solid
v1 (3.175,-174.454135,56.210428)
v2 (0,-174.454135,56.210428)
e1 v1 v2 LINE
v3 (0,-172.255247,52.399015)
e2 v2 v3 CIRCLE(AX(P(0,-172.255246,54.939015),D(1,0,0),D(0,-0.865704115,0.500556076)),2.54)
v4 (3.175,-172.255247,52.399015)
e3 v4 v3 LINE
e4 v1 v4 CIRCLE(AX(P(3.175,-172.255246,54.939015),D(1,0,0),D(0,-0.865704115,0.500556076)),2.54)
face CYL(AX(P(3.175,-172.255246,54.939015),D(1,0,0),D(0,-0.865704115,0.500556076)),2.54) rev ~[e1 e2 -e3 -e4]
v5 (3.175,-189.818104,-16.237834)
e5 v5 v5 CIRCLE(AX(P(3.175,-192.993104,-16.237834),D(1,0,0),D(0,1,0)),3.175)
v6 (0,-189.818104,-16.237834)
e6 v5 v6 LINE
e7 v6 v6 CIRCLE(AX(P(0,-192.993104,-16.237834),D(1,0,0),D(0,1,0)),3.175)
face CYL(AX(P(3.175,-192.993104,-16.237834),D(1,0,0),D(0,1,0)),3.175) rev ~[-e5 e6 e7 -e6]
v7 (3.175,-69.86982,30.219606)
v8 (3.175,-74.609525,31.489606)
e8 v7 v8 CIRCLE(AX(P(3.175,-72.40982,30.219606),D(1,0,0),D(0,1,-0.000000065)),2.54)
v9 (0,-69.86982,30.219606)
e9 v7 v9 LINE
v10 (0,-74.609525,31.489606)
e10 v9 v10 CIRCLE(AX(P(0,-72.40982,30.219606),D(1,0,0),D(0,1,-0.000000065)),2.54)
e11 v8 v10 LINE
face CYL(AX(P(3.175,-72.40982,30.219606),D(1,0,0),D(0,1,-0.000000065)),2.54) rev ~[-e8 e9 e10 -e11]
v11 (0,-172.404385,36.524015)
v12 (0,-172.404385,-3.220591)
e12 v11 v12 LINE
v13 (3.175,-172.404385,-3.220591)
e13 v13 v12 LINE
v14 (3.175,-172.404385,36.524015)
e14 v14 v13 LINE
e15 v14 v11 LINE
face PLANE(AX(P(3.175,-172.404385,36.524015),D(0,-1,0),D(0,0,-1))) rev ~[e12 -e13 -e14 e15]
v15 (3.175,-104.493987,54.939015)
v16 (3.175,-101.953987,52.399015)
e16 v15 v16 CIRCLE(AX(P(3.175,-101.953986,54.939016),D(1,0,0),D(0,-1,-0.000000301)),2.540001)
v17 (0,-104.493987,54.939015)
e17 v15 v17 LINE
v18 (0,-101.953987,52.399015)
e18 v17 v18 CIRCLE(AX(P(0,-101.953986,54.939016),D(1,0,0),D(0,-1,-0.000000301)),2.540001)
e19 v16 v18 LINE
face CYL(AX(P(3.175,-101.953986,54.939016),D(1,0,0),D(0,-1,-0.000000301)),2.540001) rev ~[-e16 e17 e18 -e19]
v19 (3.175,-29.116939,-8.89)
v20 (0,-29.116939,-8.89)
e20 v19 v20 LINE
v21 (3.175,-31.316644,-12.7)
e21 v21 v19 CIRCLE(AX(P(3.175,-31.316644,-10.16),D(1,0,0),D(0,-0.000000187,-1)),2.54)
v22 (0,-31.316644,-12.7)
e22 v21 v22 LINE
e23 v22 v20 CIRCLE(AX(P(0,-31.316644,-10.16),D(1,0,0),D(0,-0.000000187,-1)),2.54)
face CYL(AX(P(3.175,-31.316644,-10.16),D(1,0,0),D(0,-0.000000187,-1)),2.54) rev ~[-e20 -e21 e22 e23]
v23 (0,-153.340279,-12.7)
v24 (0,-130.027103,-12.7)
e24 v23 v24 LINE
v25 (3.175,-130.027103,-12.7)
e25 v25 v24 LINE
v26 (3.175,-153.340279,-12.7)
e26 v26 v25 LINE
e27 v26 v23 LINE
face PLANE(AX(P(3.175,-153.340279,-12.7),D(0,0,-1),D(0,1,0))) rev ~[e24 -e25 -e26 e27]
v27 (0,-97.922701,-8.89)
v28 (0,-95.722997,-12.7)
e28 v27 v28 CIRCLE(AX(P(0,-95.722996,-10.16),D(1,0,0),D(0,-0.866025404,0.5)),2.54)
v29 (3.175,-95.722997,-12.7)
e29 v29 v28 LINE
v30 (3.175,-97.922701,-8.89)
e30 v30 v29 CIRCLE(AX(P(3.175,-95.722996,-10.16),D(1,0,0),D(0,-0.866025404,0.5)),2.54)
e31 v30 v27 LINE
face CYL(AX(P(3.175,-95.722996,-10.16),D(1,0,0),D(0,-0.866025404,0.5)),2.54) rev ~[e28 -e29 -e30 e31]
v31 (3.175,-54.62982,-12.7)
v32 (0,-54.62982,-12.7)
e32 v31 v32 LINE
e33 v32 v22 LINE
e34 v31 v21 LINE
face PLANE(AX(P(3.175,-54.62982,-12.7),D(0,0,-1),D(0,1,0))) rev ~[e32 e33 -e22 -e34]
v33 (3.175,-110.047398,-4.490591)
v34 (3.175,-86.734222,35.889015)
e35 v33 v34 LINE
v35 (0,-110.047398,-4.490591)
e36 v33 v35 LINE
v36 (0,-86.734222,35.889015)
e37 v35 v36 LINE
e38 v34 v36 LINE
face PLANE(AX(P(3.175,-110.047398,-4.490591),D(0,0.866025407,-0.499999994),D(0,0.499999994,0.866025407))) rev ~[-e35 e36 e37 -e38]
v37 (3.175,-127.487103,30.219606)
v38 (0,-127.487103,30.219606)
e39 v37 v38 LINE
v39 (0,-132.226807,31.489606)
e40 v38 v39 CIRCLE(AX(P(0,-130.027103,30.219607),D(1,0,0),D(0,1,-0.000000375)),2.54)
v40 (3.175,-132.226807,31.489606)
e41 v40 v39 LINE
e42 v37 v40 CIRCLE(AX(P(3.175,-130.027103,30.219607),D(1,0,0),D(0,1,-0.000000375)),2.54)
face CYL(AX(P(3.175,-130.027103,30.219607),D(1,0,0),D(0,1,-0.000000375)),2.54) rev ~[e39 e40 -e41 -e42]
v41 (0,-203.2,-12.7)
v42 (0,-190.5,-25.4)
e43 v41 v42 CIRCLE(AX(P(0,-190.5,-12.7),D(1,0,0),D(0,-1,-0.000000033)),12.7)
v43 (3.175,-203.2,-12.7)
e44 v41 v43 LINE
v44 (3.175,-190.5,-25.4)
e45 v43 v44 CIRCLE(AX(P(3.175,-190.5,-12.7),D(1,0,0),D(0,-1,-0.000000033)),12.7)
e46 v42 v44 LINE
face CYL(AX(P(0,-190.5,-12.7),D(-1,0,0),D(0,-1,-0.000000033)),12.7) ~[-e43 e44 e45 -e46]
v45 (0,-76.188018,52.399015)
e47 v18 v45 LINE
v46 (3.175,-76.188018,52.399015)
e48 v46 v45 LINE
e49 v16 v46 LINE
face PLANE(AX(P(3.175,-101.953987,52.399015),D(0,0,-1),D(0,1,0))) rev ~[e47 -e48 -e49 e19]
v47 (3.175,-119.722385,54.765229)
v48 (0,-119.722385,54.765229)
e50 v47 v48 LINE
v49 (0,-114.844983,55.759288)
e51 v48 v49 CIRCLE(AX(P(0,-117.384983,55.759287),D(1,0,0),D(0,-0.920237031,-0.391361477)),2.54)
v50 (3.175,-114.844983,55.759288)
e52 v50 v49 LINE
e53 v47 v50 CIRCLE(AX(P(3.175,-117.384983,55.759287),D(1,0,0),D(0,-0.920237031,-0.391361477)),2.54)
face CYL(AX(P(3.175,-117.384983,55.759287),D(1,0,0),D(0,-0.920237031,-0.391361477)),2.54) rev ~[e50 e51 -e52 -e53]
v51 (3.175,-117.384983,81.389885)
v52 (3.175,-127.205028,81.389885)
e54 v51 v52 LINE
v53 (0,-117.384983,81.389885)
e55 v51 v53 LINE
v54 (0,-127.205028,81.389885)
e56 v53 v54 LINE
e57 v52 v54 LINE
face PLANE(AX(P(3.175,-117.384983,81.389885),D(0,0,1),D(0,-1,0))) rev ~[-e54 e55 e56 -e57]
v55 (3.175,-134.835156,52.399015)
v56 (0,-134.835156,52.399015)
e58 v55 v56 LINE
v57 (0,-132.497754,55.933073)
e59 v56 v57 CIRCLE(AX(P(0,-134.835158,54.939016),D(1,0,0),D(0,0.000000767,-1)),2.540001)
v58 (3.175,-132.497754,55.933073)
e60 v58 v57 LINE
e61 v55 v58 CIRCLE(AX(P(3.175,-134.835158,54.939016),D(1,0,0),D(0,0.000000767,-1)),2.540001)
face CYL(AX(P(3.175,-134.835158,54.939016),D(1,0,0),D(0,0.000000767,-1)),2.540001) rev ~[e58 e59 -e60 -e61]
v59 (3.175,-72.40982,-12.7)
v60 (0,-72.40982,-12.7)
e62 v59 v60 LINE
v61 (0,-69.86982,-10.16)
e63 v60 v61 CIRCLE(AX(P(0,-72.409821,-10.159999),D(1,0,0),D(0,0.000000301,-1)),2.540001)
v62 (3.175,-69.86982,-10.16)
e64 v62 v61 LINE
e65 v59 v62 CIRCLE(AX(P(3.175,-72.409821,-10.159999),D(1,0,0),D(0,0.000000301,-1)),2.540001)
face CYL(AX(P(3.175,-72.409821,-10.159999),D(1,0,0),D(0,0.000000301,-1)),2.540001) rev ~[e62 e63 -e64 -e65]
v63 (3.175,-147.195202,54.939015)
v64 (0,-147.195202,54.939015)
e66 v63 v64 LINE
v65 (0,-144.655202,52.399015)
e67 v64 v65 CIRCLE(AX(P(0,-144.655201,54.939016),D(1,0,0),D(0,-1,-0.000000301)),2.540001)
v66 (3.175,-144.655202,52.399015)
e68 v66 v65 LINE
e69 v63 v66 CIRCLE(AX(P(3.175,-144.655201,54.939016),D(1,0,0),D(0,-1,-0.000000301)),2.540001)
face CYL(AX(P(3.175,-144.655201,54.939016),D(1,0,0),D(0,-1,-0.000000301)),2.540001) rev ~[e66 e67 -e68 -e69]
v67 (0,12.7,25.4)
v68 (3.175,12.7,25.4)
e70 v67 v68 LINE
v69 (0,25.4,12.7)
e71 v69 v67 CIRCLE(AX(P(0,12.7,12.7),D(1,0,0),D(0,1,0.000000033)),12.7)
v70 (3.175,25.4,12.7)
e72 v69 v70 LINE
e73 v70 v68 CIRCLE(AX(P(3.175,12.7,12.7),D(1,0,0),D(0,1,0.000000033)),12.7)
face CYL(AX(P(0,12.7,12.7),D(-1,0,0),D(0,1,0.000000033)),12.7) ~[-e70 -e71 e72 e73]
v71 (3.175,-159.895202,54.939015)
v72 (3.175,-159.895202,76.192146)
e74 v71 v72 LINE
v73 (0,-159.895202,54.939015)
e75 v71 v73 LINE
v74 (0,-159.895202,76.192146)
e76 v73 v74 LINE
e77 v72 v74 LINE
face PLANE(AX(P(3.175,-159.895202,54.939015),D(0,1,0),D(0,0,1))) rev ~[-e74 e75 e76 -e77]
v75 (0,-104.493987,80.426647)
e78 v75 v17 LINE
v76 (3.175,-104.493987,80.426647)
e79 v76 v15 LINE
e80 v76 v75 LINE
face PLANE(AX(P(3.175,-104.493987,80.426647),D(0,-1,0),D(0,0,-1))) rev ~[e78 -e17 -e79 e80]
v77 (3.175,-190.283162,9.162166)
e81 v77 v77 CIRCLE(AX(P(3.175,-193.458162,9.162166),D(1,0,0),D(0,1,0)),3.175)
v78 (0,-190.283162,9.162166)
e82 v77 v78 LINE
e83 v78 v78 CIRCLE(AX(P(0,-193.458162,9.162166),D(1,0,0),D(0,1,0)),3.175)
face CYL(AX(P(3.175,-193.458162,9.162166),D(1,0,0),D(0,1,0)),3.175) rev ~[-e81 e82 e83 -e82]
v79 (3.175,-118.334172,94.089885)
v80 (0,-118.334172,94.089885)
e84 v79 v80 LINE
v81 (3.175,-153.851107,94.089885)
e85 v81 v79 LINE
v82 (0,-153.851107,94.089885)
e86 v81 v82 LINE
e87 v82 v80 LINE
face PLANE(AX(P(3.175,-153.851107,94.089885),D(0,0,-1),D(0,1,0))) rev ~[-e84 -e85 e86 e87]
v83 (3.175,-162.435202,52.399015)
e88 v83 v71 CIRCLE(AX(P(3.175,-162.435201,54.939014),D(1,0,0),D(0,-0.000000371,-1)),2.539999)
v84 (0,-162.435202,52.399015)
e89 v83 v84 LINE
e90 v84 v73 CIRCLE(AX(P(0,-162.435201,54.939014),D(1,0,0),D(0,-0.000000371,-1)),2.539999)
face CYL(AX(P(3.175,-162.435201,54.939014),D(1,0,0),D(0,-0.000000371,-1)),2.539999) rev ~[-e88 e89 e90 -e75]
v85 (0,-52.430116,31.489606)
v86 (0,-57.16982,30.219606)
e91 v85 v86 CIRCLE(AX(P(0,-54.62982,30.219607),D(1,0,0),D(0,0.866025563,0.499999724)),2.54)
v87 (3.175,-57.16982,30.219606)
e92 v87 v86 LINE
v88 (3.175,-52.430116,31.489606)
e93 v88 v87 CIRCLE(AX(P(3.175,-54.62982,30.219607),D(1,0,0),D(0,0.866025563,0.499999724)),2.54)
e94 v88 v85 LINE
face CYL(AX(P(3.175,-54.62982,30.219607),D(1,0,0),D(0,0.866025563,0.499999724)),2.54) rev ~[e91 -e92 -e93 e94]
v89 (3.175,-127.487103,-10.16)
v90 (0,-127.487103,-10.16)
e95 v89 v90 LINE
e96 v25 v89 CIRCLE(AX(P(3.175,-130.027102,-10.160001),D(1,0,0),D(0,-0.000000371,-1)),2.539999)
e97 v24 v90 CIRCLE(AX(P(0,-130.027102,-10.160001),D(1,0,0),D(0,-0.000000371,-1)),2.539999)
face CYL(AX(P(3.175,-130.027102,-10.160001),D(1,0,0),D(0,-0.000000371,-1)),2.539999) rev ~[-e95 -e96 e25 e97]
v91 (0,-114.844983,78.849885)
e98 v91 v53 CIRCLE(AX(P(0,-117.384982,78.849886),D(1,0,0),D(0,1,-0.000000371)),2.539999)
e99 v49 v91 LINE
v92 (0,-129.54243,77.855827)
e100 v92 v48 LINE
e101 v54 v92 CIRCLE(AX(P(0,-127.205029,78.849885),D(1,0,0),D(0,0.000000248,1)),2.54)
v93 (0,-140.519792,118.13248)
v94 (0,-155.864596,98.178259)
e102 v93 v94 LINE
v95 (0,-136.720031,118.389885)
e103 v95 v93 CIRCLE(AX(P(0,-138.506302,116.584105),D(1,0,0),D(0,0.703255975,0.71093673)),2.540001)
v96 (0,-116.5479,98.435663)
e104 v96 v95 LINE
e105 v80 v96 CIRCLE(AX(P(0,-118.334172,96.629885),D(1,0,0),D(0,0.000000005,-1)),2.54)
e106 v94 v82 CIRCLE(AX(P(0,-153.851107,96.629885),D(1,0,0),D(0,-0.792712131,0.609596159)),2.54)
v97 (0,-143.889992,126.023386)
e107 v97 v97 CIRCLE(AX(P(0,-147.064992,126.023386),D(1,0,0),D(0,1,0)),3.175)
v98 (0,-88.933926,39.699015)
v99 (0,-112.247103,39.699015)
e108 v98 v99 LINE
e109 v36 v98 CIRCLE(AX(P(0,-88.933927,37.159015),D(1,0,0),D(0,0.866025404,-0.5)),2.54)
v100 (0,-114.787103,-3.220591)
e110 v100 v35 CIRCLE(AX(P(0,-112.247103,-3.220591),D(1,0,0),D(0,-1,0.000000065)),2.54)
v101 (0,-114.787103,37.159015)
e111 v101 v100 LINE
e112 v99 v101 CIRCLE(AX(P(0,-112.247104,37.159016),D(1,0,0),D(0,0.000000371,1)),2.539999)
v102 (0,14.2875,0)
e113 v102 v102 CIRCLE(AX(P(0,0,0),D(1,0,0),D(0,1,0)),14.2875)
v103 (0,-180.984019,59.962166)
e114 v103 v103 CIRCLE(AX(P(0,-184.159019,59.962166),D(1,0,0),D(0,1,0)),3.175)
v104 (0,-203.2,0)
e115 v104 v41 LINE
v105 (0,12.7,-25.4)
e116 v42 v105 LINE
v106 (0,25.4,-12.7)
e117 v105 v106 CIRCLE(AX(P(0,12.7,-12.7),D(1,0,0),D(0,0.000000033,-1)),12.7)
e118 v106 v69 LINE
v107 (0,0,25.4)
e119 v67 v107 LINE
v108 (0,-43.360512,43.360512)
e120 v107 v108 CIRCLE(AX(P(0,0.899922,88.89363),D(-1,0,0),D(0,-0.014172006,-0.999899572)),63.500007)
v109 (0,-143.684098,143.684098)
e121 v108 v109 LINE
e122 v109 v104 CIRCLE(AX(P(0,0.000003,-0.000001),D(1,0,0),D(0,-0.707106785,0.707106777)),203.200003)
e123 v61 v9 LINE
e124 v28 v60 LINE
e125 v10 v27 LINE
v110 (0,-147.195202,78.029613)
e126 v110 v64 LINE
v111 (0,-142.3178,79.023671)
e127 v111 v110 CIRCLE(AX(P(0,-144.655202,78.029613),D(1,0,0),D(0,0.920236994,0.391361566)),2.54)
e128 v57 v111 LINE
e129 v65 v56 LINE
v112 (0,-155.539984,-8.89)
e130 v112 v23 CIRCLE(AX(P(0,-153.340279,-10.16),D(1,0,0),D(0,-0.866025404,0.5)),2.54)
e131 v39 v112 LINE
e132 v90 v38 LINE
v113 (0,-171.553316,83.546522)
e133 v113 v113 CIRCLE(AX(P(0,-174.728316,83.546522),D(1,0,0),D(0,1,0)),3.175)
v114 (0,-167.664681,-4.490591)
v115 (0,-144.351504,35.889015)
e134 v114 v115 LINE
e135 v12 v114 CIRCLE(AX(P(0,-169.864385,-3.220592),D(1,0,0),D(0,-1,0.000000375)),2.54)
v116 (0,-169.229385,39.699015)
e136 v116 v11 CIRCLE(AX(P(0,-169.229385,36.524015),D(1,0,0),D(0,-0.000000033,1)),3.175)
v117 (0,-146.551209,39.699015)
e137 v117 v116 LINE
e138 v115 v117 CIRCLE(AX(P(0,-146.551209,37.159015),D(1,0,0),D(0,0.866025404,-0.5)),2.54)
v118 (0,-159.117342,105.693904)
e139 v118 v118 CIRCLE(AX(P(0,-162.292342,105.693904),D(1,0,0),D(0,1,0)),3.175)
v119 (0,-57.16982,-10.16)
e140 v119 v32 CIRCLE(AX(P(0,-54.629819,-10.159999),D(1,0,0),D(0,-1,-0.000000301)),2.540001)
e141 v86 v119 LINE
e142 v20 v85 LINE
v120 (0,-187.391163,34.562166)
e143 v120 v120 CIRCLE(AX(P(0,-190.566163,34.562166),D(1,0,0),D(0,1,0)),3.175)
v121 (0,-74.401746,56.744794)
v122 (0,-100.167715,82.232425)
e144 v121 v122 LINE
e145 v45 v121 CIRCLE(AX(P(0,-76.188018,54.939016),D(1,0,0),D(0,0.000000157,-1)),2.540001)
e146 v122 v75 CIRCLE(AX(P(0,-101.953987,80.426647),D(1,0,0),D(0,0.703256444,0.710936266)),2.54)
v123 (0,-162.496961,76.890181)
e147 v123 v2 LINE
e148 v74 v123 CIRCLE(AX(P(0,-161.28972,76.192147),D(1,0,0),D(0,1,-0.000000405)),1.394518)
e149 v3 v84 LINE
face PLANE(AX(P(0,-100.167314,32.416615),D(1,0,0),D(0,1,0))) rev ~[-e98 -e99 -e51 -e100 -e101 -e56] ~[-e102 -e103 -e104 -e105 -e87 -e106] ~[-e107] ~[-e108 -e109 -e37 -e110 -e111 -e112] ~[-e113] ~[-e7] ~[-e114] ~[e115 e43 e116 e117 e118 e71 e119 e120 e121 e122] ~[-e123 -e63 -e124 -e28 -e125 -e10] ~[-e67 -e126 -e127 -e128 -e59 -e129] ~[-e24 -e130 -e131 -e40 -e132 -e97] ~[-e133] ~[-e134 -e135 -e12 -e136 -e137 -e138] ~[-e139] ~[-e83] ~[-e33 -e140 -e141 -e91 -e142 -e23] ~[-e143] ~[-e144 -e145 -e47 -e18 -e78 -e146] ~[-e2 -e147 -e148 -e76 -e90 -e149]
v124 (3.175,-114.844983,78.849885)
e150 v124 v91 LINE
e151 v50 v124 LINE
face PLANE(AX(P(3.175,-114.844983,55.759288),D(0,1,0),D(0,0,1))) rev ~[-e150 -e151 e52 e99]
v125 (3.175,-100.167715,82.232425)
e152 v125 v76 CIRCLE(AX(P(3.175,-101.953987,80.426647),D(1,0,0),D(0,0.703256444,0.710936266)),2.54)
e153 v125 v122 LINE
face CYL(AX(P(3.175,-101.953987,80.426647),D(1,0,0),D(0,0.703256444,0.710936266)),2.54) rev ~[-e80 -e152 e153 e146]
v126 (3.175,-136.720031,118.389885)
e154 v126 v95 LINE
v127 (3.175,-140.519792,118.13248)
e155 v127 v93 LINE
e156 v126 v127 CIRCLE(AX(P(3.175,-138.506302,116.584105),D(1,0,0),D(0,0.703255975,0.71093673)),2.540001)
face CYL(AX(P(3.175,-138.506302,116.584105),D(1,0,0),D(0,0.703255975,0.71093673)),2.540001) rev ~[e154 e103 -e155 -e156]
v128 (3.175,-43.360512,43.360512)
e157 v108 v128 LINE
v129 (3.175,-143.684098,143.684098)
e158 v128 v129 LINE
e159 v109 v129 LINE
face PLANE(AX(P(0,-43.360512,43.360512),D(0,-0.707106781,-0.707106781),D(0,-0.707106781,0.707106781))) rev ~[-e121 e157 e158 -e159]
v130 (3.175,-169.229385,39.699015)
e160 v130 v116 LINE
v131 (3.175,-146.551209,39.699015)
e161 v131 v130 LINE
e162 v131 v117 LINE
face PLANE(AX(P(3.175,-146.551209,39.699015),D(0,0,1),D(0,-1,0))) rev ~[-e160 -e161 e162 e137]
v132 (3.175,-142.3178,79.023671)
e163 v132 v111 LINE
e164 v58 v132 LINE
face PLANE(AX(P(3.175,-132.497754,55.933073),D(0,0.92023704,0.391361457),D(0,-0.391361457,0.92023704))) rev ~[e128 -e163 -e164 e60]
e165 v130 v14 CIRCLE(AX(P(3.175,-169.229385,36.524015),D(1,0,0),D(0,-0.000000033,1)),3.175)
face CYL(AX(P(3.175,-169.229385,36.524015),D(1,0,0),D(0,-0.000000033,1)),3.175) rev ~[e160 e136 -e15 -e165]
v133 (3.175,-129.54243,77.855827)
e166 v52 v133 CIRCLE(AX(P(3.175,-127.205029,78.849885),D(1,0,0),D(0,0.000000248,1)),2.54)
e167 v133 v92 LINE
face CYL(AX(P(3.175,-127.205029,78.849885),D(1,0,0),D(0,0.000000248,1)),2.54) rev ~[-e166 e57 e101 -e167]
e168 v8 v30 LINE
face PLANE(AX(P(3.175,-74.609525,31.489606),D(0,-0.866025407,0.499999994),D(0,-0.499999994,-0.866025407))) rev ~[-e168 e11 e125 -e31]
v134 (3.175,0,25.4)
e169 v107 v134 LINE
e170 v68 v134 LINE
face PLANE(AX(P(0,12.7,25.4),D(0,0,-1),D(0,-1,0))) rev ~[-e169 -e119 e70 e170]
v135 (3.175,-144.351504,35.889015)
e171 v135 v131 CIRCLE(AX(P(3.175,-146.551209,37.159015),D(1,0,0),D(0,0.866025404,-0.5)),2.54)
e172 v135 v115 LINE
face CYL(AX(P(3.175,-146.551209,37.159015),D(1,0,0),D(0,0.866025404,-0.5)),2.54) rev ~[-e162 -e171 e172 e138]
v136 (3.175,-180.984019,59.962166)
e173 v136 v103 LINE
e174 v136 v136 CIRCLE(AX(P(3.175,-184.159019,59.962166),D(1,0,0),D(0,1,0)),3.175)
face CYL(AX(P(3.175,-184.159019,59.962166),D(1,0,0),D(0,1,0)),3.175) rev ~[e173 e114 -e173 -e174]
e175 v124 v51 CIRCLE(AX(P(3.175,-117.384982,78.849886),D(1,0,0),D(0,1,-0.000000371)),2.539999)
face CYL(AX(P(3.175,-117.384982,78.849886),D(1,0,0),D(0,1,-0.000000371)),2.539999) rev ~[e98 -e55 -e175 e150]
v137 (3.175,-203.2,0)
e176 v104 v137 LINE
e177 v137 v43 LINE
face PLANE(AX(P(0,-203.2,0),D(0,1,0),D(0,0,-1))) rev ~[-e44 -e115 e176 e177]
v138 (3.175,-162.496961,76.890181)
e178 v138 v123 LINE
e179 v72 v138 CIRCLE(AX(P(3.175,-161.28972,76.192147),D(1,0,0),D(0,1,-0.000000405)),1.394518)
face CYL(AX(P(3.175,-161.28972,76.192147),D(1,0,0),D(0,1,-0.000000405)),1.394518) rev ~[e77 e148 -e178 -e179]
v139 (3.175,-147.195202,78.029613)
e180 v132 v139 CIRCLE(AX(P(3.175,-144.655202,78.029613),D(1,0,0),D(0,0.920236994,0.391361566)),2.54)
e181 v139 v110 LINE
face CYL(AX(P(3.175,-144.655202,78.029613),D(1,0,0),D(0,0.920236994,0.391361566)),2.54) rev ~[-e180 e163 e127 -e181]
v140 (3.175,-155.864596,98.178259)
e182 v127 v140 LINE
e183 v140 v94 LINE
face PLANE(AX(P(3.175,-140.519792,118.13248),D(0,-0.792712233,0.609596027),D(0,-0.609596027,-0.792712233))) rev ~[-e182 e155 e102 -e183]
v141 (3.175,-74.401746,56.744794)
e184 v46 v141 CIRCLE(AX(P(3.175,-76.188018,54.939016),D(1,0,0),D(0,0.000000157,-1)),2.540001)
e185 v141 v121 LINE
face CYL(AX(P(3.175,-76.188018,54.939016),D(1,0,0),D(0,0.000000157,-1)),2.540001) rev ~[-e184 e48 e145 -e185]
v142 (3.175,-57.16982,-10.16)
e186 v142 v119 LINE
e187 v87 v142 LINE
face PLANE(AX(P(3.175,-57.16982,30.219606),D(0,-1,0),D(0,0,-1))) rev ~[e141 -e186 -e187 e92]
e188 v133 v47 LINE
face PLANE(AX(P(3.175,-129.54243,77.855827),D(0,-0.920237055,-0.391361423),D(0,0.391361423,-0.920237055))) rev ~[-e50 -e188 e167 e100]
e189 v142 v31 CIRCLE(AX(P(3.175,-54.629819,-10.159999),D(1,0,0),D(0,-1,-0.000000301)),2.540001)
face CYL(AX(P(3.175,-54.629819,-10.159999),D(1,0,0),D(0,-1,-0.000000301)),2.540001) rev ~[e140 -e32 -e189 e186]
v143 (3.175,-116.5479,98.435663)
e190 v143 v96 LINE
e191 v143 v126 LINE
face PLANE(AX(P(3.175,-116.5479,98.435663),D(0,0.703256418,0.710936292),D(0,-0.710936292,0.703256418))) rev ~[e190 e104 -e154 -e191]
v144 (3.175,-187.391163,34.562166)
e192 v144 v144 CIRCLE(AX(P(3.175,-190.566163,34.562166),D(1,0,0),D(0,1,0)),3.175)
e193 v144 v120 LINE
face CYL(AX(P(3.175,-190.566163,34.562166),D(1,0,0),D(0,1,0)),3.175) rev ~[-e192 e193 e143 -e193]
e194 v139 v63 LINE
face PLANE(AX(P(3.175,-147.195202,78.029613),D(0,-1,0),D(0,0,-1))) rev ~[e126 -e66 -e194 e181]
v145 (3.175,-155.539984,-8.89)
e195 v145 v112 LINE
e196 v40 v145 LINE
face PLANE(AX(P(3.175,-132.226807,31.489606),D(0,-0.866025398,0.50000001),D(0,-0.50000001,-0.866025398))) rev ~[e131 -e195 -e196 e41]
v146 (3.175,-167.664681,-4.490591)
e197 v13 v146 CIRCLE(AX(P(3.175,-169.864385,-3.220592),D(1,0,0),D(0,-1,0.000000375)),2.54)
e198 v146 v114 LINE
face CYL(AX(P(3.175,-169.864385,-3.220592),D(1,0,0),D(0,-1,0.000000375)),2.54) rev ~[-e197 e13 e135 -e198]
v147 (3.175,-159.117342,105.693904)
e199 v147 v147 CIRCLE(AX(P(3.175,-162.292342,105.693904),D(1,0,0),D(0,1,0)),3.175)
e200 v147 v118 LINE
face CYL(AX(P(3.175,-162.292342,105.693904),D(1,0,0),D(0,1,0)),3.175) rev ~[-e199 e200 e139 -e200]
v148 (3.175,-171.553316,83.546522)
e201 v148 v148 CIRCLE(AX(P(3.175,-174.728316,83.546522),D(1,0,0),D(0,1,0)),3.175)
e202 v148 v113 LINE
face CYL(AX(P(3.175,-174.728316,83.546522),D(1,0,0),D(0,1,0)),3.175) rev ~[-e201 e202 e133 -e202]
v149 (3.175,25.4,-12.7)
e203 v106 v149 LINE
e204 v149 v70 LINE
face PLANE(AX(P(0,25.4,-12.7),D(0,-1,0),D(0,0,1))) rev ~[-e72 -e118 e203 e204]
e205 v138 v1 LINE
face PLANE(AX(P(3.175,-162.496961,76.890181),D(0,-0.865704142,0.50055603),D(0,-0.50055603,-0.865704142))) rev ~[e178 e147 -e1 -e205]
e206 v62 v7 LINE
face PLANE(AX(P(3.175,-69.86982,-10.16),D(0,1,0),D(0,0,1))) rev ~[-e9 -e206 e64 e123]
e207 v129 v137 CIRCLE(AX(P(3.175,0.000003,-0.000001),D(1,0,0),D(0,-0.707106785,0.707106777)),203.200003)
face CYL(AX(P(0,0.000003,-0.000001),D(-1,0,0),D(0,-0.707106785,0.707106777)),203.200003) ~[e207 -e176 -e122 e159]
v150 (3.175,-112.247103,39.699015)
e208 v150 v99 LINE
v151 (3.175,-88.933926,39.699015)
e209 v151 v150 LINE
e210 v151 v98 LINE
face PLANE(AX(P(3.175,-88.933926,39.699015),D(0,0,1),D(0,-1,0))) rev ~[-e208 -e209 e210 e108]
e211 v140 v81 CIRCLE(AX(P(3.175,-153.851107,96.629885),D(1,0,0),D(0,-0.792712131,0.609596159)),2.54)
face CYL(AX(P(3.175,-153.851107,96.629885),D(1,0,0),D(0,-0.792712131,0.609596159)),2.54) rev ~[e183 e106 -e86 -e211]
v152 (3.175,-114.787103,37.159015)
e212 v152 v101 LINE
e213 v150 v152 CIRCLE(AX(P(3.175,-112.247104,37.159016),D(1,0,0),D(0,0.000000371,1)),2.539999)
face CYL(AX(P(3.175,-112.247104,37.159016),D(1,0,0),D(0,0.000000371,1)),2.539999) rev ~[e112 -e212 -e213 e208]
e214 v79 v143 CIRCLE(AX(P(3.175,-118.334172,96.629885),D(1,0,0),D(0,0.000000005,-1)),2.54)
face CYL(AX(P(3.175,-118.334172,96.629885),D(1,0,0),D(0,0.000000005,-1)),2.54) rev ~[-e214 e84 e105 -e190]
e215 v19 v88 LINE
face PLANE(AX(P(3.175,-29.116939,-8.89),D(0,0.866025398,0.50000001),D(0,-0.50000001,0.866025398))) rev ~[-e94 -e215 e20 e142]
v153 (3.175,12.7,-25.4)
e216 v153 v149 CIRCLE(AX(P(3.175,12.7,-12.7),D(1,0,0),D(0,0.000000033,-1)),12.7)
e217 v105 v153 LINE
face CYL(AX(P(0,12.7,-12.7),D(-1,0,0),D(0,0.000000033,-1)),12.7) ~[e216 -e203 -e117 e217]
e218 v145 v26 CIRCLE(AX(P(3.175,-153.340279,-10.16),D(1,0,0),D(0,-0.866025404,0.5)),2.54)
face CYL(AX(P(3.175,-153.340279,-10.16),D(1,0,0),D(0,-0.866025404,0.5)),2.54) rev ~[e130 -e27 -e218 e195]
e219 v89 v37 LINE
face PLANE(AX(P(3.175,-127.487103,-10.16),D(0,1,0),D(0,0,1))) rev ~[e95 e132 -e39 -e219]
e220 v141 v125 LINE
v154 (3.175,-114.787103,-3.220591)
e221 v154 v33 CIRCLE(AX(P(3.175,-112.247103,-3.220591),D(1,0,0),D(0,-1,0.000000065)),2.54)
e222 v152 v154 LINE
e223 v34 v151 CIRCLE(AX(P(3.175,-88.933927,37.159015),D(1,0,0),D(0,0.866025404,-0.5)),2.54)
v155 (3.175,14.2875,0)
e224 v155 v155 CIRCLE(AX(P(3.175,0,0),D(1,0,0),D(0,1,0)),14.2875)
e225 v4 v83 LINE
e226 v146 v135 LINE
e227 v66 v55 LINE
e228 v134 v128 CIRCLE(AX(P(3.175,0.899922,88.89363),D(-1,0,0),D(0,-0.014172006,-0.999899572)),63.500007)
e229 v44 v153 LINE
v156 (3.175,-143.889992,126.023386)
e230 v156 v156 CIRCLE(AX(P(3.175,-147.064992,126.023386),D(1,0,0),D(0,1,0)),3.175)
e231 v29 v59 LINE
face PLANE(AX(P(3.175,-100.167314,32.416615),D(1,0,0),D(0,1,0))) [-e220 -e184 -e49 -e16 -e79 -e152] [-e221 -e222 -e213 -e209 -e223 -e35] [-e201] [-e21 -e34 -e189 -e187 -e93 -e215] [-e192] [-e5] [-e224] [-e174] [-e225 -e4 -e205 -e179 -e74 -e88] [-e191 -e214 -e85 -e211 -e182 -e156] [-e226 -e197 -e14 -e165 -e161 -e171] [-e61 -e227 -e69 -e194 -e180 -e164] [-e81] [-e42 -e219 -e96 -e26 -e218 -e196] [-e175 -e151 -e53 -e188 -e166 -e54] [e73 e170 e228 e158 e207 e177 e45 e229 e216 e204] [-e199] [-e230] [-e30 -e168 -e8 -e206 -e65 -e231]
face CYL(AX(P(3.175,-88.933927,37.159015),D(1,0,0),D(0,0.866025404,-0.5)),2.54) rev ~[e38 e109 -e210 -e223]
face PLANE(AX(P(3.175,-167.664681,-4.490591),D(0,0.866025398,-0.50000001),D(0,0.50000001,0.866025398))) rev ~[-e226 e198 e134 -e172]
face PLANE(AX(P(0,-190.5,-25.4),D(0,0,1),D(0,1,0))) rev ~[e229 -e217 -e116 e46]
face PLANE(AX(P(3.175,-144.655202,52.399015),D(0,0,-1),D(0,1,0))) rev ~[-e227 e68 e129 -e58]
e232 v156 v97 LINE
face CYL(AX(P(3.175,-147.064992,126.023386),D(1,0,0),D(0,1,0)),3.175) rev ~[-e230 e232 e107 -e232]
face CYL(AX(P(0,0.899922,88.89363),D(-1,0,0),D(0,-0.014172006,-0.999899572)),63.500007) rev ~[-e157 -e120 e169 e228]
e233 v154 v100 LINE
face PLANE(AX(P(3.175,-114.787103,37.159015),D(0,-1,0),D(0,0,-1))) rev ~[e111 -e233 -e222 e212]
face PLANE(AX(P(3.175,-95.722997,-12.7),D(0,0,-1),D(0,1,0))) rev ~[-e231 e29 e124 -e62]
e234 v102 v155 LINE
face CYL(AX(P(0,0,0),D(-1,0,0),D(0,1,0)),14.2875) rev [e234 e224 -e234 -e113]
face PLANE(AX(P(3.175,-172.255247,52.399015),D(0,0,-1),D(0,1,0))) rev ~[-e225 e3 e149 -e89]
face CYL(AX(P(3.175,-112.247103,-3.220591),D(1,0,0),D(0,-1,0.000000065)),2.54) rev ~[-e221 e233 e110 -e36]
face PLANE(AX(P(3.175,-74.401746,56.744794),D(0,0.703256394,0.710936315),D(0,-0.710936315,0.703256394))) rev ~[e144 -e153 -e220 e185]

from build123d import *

# Parameters (mm, degrees)
F0_R     = 14.2875
F1_DEPTH = 3.175
F2_R     = 3.175
F3_DEPTH = 25.4
F5_DEPTH = 25.4


with BuildPart() as f1:
    # F0 (on Right) → F1 (new body)
    with BuildSketch(Plane.YZ):
        with BuildLine():
            Line((-190.5, -25.4), (12.7, -25.4))
            ThreePointArc((12.7, -25.4), (21.680256, -21.680256), (25.4, -12.7))
            Line((25.4, -12.7), (25.4, 12.7))
            ThreePointArc((25.4, 12.7), (21.680256, 21.680256), (12.7, 25.4))
            Line((12.7, 25.4), (0, 25.4))
            ThreePointArc((0, 25.4), (-23.400478, 30.227273), (-43.360512, 43.360512))
            Line((-43.360512, 43.360512), (-143.684098, 143.684098))
            ThreePointArc((-143.684098, 143.684098), (-187.732321, 77.761273), (-203.2, 0))
            Line((-203.2, 0), (-203.2, -12.7))
            ThreePointArc((-203.2, -12.7), (-199.480256, -21.680256), (-190.5, -25.4))
        make_face()
        Circle(F0_R, mode=Mode.SUBTRACT)
    extrude(amount=F1_DEPTH)

    # F2 (on face) → F3 (cut)
    with BuildSketch(Plane.YZ.offset(3.175)):
        with Locations((-192.993104, -16.237834)):
            Circle(F2_R)
        with Locations((-193.458162, 9.162166)):
            Circle(F2_R)
        with Locations((-147.064992, 126.023386)):
            Circle(F2_R)
        with Locations((-162.292342, 105.693904)):
            Circle(F2_R)
        with Locations((-174.728316, 83.546522)):
            Circle(F2_R)
        with Locations((-184.159019, 59.962166)):
            Circle(F2_R)
        with Locations((-190.566163, 34.562166)):
            Circle(F2_R)
    extrude(amount=-F3_DEPTH, mode=Mode.SUBTRACT)

    # F4 (on face) → F5 (cut)
    with BuildSketch(Plane.YZ.offset(3.175)):
        with BuildLine():
            ThreePointArc((-52.430116, 31.489606), (-55.287221, 32.673058), (-57.16982, 30.219606))
            Line((-57.16982, 30.219606), (-57.16982, -10.16))
            ThreePointArc((-57.16982, -10.16), (-56.425871, -11.956051), (-54.62982, -12.7))
            Line((-54.62982, -12.7), (-31.316644, -12.7))
            ThreePointArc((-31.316644, -12.7), (-29.116939, -11.43), (-29.116939, -8.89))
            Line((-29.116939, -8.89), (-52.430116, 31.489606))
        make_face()
        with BuildLine():
            ThreePointArc((-72.40982, -12.7), (-70.613769, -11.956051), (-69.86982, -10.16))
            Line((-69.86982, -10.16), (-69.86982, 30.219606))
            ThreePointArc((-69.86982, 30.219606), (-71.75242, 32.673058), (-74.609525, 31.489606))
            Line((-74.609525, 31.489606), (-97.922701, -8.89))
            ThreePointArc((-97.922701, -8.89), (-97.922701, -11.43), (-95.722997, -12.7))
            Line((-95.722997, -12.7), (-72.40982, -12.7))
        make_face()
        with BuildLine():
            ThreePointArc((-114.787103, -3.220591), (-112.904503, -5.674043), (-110.047398, -4.490591))
            Line((-110.047398, -4.490591), (-86.734222, 35.889015))
            ThreePointArc((-86.734222, 35.889015), (-86.734222, 38.429015), (-88.933926, 39.699015))
            Line((-88.933926, 39.699015), (-112.247103, 39.699015))
            ThreePointArc((-112.247103, 39.699015), (-114.043154, 38.955067), (-114.787103, 37.159015))
            Line((-114.787103, 37.159015), (-114.787103, -3.220591))
        make_face()
        with BuildLine():
            Line((-127.487103, -10.16), (-127.487103, 30.219606))
            ThreePointArc((-127.487103, 30.219606), (-129.369702, 32.673058), (-132.226807, 31.489606))
            Line((-132.226807, 31.489606), (-155.539984, -8.89))
            ThreePointArc((-155.539984, -8.89), (-155.539984, -11.43), (-153.340279, -12.7))
            Line((-153.340279, -12.7), (-130.027103, -12.7))
            ThreePointArc((-130.027103, -12.7), (-128.231051, -11.956051), (-127.487103, -10.16))
        make_face()
        with BuildLine():
            ThreePointArc((-169.229385, 39.699015), (-171.474449, 38.769079), (-172.404385, 36.524015))
            Line((-172.404385, 36.524015), (-172.404385, -3.220591))
            ThreePointArc((-172.404385, -3.220591), (-170.521786, -5.674043), (-167.664681, -4.490591))
            Line((-167.664681, -4.490591), (-144.351504, 35.889015))
            ThreePointArc((-144.351504, 35.889015), (-144.351504, 38.429015), (-146.551209, 39.699015))
            Line((-146.551209, 39.699015), (-169.229385, 39.699015))
        make_face()
        with BuildLine():
            Line((-162.496961, 76.890181), (-174.454135, 56.210428))
            ThreePointArc((-174.454135, 56.210428), (-174.455359, 53.669722), (-172.255247, 52.399015))
            Line((-172.255247, 52.399015), (-162.435202, 52.399015))
            ThreePointArc((-162.435202, 52.399015), (-160.63915, 53.142964), (-159.895202, 54.939015))
            Line((-159.895202, 54.939015), (-159.895202, 76.192146))
            ThreePointArc((-159.895202, 76.192146), (-160.92836, 77.539032), (-162.496961, 76.890181))
        make_face()
        with BuildLine():
            ThreePointArc((-142.3178, 79.023671), (-145.162448, 80.518448), (-147.195202, 78.029613))
            Line((-147.195202, 78.029613), (-147.195202, 54.939015))
            ThreePointArc((-147.195202, 54.939015), (-146.451253, 53.142964), (-144.655202, 52.399015))
            Line((-144.655202, 52.399015), (-134.835156, 52.399015))
            ThreePointArc((-134.835156, 52.399015), (-132.716607, 53.537821), (-132.497754, 55.933073))
            Line((-132.497754, 55.933073), (-142.3178, 79.023671))
        make_face()
        with BuildLine():
            ThreePointArc((-127.205028, 81.389885), (-129.323578, 80.25108), (-129.54243, 77.855827))
            Line((-129.54243, 77.855827), (-119.722385, 54.765229))
            ThreePointArc((-119.722385, 54.765229), (-116.877736, 53.270452), (-114.844983, 55.759288))
            Line((-114.844983, 55.759288), (-114.844983, 78.849885))
            ThreePointArc((-114.844983, 78.849885), (-115.588931, 80.645936), (-117.384983, 81.389885))
            Line((-117.384983, 81.389885), (-127.205028, 81.389885))
        make_face()
        with BuildLine():
            Line((-104.493987, 80.426647), (-104.493987, 54.939015))
            ThreePointArc((-104.493987, 54.939015), (-103.750038, 53.142964), (-101.953987, 52.399015))
            Line((-101.953987, 52.399015), (-76.188018, 52.399015))
            ThreePointArc((-76.188018, 52.399015), (-73.838733, 53.973375), (-74.401746, 56.744794))
            Line((-74.401746, 56.744794), (-100.167715, 82.232425))
            ThreePointArc((-100.167715, 82.232425), (-102.932371, 82.770653), (-104.493987, 80.426647))
        make_face()
        with BuildLine():
            Line((-153.851107, 94.089885), (-118.334172, 94.089885))
            ThreePointArc((-118.334172, 94.089885), (-115.984887, 95.664245), (-116.5479, 98.435663))
            Line((-116.5479, 98.435663), (-136.720031, 118.389885))
            ThreePointArc((-136.720031, 118.389885), (-138.677975, 119.118298), (-140.519792, 118.13248))
            Line((-140.519792, 118.13248), (-155.864596, 98.178259))
            ThreePointArc((-155.864596, 98.178259), (-156.129755, 95.507671), (-153.851107, 94.089885))
        make_face()
    extrude(amount=-F5_DEPTH, mode=Mode.SUBTRACT)


solid = f1.part
